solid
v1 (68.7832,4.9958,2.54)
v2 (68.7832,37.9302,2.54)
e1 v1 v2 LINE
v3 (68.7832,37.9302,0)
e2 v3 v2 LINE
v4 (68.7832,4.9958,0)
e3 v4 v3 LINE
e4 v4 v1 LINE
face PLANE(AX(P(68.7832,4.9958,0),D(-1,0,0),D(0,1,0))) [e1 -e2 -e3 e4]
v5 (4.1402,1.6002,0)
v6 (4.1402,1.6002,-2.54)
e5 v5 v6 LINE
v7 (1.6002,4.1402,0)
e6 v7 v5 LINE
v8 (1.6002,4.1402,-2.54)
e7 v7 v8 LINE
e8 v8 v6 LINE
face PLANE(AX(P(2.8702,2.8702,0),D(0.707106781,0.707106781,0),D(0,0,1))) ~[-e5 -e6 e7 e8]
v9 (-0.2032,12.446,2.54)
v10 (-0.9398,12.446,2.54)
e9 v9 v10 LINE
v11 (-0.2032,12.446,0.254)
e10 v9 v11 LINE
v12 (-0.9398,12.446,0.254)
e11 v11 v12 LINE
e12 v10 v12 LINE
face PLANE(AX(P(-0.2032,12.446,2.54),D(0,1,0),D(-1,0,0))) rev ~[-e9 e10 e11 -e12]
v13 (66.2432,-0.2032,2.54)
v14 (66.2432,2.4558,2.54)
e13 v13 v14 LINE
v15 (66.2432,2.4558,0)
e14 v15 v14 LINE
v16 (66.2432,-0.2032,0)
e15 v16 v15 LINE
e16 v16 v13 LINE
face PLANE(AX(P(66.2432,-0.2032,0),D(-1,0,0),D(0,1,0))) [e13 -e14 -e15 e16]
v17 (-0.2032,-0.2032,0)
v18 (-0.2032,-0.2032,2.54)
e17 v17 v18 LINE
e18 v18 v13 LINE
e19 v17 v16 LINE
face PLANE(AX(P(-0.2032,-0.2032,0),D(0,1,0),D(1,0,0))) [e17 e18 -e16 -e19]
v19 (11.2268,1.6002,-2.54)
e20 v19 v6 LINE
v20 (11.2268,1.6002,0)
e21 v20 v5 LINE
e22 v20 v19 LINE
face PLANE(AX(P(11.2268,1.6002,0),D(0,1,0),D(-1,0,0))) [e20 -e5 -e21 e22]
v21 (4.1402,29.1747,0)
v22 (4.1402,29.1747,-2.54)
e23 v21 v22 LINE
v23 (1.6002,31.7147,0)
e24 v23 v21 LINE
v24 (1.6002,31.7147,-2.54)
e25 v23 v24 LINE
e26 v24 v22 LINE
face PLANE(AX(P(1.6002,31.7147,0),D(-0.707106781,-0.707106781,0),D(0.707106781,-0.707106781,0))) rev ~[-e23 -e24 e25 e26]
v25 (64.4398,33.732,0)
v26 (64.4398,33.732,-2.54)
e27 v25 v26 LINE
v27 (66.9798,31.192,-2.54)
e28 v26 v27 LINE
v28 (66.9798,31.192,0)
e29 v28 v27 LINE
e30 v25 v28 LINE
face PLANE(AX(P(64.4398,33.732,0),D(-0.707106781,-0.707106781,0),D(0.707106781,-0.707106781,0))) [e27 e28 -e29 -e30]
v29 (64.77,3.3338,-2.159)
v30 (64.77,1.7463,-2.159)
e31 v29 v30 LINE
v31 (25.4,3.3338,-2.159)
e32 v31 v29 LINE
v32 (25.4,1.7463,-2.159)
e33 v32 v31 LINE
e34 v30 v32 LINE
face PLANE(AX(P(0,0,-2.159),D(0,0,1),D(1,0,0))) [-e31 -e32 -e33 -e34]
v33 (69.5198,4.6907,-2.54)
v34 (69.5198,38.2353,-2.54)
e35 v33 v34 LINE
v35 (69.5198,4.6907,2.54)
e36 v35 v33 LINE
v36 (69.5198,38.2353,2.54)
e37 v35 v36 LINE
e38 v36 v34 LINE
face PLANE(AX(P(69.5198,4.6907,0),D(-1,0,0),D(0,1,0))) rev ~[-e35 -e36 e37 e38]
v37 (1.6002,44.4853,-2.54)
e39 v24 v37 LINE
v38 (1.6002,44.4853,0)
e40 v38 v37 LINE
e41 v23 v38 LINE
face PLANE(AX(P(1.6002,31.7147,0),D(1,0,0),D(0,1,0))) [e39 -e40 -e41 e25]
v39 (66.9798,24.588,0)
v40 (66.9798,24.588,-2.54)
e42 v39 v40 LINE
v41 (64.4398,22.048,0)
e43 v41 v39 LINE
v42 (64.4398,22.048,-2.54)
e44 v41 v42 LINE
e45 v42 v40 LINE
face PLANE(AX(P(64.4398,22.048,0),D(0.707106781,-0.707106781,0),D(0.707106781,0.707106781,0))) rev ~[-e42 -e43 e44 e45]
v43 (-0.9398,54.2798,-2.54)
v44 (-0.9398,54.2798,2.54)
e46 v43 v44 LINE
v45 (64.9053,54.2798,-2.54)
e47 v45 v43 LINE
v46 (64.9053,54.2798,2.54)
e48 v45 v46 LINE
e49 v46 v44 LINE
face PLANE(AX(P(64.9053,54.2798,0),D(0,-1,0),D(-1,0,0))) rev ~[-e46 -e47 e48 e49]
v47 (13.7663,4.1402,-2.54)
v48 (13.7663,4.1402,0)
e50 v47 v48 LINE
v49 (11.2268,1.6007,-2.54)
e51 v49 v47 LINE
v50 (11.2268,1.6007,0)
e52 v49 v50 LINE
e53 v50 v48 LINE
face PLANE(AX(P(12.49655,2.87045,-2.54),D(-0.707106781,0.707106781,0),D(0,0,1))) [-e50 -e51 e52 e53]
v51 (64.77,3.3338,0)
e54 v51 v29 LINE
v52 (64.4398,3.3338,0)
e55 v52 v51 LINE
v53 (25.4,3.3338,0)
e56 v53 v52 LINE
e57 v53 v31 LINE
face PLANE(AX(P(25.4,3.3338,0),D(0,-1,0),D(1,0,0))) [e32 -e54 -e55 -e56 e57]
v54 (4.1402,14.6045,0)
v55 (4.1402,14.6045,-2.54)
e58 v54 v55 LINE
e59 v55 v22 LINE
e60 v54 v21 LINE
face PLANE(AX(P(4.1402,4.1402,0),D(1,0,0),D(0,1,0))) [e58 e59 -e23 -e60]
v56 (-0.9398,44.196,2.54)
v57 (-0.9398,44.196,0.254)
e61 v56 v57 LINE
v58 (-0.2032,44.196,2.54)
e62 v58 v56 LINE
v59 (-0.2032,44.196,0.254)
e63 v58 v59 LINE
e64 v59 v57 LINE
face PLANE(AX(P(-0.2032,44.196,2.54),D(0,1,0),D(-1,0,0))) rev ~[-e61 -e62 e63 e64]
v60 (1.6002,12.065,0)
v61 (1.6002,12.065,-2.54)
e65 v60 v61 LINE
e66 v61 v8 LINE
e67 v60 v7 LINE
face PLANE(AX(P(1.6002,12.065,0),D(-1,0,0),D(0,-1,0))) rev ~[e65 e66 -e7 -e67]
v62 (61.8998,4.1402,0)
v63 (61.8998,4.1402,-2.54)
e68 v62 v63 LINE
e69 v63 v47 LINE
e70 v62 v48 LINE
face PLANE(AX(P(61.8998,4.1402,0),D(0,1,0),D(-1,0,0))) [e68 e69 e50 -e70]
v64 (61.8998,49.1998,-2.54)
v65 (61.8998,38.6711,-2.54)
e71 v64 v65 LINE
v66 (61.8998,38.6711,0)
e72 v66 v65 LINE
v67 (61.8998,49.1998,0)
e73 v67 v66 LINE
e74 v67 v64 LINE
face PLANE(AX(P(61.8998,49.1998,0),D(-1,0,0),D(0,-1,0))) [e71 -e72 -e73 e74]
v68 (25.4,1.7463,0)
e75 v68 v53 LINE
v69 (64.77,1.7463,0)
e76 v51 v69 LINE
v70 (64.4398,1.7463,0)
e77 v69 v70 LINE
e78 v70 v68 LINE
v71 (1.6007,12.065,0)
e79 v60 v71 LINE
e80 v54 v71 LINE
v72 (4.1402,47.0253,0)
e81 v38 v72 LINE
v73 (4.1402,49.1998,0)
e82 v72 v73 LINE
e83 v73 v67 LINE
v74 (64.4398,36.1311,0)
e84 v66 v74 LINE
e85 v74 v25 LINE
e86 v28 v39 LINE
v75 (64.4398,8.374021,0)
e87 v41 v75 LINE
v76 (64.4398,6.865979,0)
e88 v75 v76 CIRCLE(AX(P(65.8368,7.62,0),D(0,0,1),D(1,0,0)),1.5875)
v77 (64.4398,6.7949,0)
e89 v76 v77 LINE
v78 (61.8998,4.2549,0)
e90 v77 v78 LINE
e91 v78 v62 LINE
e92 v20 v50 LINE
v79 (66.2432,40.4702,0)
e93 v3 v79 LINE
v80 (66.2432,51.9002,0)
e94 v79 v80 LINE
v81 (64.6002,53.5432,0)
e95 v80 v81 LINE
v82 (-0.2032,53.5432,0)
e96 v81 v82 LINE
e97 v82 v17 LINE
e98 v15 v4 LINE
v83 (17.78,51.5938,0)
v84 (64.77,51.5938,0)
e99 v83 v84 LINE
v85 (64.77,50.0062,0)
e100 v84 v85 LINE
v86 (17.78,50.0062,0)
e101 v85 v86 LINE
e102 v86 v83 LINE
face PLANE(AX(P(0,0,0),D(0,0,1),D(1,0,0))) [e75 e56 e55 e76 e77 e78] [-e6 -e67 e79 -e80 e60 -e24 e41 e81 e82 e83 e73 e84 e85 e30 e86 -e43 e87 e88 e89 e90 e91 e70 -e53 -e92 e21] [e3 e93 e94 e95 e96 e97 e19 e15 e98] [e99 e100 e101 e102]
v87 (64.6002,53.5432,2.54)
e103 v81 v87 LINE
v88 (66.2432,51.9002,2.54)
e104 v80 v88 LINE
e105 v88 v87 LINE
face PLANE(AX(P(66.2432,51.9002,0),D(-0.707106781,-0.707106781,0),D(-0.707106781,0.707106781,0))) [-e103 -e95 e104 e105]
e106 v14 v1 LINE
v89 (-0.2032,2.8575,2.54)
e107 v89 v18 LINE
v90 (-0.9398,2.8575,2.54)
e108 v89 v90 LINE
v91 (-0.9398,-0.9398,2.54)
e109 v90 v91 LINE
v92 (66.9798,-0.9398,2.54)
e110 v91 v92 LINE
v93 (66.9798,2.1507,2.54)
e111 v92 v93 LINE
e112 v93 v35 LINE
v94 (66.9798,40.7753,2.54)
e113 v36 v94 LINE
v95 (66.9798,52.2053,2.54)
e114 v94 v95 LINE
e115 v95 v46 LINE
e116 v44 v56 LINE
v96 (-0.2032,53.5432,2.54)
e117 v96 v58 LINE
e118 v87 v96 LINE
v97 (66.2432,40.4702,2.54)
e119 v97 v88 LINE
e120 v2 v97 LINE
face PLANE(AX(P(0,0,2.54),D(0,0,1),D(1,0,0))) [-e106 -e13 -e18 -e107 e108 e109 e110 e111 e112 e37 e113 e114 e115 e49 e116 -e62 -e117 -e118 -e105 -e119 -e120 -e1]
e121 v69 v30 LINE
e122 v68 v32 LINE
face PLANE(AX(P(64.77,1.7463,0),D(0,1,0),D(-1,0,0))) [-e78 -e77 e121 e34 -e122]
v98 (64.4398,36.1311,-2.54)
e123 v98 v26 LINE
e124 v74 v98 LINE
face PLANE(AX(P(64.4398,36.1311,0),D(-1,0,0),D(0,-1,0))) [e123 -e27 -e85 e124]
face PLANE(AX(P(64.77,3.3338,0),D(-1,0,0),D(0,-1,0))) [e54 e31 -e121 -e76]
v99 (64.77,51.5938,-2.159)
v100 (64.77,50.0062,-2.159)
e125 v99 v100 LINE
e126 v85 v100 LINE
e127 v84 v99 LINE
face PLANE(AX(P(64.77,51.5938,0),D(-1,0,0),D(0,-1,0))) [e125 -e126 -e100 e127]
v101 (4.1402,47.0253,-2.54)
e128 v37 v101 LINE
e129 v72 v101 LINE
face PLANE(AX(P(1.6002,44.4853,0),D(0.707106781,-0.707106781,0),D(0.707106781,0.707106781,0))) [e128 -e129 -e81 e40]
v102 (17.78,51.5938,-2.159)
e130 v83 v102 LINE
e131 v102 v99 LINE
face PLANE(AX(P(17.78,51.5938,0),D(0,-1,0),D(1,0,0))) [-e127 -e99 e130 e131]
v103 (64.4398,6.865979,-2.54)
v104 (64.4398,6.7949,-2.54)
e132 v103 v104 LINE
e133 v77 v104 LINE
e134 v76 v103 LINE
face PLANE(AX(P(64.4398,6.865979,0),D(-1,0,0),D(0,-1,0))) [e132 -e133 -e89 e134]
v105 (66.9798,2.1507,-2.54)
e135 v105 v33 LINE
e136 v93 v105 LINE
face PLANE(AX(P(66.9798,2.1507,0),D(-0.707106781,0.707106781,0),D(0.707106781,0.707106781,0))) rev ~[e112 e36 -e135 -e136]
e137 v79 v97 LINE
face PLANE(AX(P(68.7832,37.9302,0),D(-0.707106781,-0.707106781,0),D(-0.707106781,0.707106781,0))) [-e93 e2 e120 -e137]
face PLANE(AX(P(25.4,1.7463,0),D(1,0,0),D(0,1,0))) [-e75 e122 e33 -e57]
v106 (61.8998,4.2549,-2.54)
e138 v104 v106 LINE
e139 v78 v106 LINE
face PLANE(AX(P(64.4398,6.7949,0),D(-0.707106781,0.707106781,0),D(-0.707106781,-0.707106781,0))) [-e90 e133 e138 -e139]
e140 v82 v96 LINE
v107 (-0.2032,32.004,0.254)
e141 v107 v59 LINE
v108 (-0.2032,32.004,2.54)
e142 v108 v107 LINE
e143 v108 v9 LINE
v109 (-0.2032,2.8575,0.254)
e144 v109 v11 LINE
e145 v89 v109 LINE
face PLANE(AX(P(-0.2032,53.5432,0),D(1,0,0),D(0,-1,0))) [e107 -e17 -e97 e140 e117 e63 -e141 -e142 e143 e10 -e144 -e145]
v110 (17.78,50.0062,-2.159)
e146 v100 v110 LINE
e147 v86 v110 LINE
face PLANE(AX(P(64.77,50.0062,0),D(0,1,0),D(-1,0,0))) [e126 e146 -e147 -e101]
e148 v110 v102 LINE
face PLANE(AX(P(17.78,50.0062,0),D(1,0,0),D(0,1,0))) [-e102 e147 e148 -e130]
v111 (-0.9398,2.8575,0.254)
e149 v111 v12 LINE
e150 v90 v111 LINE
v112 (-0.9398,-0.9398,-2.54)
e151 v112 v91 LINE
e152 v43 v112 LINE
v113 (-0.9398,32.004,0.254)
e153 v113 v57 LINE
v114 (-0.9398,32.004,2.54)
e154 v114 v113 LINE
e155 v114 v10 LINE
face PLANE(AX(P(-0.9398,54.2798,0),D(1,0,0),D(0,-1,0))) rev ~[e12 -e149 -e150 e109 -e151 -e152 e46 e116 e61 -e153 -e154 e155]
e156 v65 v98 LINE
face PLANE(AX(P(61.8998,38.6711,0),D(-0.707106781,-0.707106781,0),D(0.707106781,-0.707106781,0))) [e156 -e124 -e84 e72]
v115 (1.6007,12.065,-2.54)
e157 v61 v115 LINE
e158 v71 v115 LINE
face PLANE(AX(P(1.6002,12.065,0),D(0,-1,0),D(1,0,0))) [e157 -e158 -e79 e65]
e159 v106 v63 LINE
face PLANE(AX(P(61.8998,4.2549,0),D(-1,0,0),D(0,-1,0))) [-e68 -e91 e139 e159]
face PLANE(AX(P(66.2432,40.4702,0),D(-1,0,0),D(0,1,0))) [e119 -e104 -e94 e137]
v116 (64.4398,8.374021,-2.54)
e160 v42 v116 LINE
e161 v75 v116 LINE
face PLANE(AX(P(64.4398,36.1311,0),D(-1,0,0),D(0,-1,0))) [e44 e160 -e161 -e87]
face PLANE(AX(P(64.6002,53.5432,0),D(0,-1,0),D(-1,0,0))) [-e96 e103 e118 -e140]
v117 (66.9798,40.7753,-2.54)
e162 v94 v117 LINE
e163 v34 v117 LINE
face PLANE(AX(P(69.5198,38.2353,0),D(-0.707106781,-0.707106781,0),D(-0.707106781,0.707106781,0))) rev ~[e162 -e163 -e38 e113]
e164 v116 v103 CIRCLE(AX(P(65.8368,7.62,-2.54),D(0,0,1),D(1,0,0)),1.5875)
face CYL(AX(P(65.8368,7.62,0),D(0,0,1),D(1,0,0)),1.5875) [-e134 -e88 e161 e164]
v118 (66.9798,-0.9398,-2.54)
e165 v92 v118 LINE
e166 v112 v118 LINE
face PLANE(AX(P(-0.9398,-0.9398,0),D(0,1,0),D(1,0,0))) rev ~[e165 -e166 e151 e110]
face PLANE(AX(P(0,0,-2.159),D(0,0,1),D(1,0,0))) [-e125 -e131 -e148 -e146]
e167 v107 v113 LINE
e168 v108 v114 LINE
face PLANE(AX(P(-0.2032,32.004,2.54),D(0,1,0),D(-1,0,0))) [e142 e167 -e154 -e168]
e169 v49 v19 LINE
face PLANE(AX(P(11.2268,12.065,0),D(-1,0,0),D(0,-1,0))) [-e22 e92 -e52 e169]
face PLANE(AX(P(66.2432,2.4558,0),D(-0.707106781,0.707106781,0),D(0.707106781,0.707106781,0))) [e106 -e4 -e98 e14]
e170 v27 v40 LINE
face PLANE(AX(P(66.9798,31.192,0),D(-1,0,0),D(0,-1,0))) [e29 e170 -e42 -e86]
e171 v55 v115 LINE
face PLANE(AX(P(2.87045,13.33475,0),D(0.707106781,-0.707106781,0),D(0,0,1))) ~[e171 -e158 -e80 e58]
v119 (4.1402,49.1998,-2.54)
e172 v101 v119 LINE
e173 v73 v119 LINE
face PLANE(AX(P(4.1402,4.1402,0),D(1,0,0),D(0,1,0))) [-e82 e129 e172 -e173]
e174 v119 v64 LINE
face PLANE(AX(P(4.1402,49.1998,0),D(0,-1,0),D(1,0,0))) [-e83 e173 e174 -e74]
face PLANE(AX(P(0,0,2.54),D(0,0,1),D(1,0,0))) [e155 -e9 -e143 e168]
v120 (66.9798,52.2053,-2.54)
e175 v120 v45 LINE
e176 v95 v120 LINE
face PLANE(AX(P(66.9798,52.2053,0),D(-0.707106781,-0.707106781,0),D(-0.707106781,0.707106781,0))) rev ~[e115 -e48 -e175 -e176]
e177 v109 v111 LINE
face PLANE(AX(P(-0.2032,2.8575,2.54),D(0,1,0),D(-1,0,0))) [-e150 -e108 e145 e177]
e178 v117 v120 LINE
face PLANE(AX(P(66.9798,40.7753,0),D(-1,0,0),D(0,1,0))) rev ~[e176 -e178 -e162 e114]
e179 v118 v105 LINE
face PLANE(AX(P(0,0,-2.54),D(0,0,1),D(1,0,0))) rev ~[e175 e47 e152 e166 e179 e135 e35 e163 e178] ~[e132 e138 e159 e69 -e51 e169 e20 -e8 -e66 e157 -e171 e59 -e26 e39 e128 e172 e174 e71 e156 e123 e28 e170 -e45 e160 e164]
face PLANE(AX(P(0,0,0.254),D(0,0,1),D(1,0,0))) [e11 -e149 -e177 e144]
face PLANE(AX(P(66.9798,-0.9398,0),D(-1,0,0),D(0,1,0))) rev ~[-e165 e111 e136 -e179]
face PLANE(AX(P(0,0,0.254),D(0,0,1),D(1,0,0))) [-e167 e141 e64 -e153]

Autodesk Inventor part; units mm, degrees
ref_plane "YZ Plane" through (0, 0, 0) normal (1, 0, 0) x (0, 1, 0)
ref_plane "XZ Plane" through (0, 0, 0) normal (0, 1, 0) x (-1, 0, 0)
ref_plane "XY Plane" through (0, 0, 0) normal (0, 0, 1) x (1, 0, 0)
sketch "Sketch1" plane through (0, 0, 0) normal (0, 0, 1) x (1, 0, 0)
  line L0 (0, 53.34) -> (64.516, 53.34)
  line L1 (64.516, 53.34) -> (66.04, 51.816)
  line L2 (66.04, 51.816) -> (66.04, 40.386)
  line L3 (66.04, 40.386) -> (68.58, 37.846)
  line L4 (68.58, 37.846) -> (68.58, 5.08)
  line L5 (66.04, 0) -> (0, 0)
  line L6 (0, 0) -> (0, 53.34)
  line L7 (68.58, 5.08) -> (66.04, 2.54)
  line L8 (66.04, 2.54) -> (66.04, 0)
  line L9 (64.9053, 54.2798) -> (-0.9398, 54.2798)
  line L10 (-0.9398, 54.2798) -> (-0.9398, -0.9398)
  line L11 (-0.9398, -0.9398) -> (66.9798, -0.9398)
  line L12 (66.9798, -0.9398) -> (66.9798, 2.1507)
  line L13 (66.9798, 2.1507) -> (69.5198, 4.6907)
  line L14 (69.5198, 4.6907) -> (69.5198, 38.2353)
  line L15 (69.5198, 38.2353) -> (66.9798, 40.7753)
  line L16 (66.9798, 40.7753) -> (66.9798, 52.2053)
  line L17 (66.9798, 52.2053) -> (64.9053, 54.2798)
  line L18 (64.6002, 53.5432) -> (-0.2032, 53.5432)
  line L19 (-0.2032, 53.5432) -> (-0.2032, -0.2032)
  line L20 (-0.2032, -0.2032) -> (66.2432, -0.2032)
  line L21 (66.2432, -0.2032) -> (66.2432, 2.4558)
  line L22 (66.2432, 2.4558) -> (68.7832, 4.9958)
  line L23 (68.7832, 4.9958) -> (68.7832, 37.9302)
  line L24 (68.7832, 37.9302) -> (66.2432, 40.4702)
  line L25 (66.2432, 40.4702) -> (66.2432, 51.9002)
  line L26 (66.2432, 51.9002) -> (64.6002, 53.5432)
  point P0 (0, 0)
  dimension "d0" = 64.516
  dimension "d1" = 53.34
  dimension "d4" = 66.04
  dimension "d5" = 51.816
  dimension "d6" = 68.58
  dimension "d7" = 40.386
  dimension "d8" = 37.846
  dimension "d9" = 66.04
  dimension "d10" = 2.54
  dimension "d11" = 5.08
  dimension "d15" = 0.2032
  dimension "d18" = 0.7366
extrude "Extrusion2" add sketch "Sketch1" along normal blind 2.54 contours L17 L16 L15 L14 L13 L12 L11 L10 L9
sketch "Sketch2" plane through (0, 0, 0) normal (0, 0, 1) x (1, 0, 0)
  line L0 (0, 53.34) -> (64.516, 53.34)
  line L1 (64.516, 53.34) -> (66.04, 51.816)
  line L2 (66.04, 51.816) -> (66.04, 40.386)
  line L3 (66.04, 40.386) -> (68.58, 37.846)
  line L4 (68.58, 37.846) -> (68.58, 5.08)
  line L5 (66.04, 0) -> (0, 0)
  line L6 (0, 0) -> (0, 53.34)
  line L7 (68.58, 5.08) -> (66.04, 2.54)
  line L8 (66.04, 2.54) -> (66.04, 0)
  line L9 (64.9053, 54.2798) -> (-0.9398, 54.2798)
  line L10 (-0.9398, 54.2798) -> (-0.9398, -0.9398)
  line L11 (-0.9398, -0.9398) -> (66.9798, -0.9398)
  line L12 (66.9798, -0.9398) -> (66.9798, 2.1507)
  line L13 (66.9798, 2.1507) -> (69.5198, 4.6907)
  line L14 (69.5198, 4.6907) -> (69.5198, 38.2353)
  line L15 (69.5198, 38.2353) -> (66.9798, 40.7753)
  line L16 (66.9798, 40.7753) -> (66.9798, 52.2053)
  line L17 (66.9798, 52.2053) -> (64.9053, 54.2798)
  line L18 (64.6002, 53.5432) -> (-0.2032, 53.5432)
  line L19 (-0.2032, 53.5432) -> (-0.2032, -0.2032)
  line L20 (-0.2032, -0.2032) -> (66.2432, -0.2032)
  line L21 (66.2432, -0.2032) -> (66.2432, 2.4558)
  line L22 (66.2432, 2.4558) -> (68.7832, 4.9958)
  line L23 (68.7832, 4.9958) -> (68.7832, 37.9302)
  line L24 (68.7832, 37.9302) -> (66.2432, 40.4702)
  line L25 (66.2432, 40.4702) -> (66.2432, 51.9002)
  line L26 (66.2432, 51.9002) -> (64.6002, 53.5432)
  line L27 (4.1402, 49.1998) -> (61.8998, 49.1998)
  line L28 (61.8998, 49.1998) -> (61.8998, 38.6711)
  line L29 (61.8998, 38.6711) -> (64.4398, 36.1311)
  line L30 (64.4398, 6.7949) -> (61.8998, 4.2549)
  line L31 (61.8998, 4.2549) -> (61.8998, 4.1402)
  line L32 (61.8998, 4.1402) -> (4.1402, 4.1402)
  line L33 (4.1402, 4.1402) -> (4.1402, 49.1998)
  line L34 (63.627, 30.43) -> (66.167, 30.43) construction
  line L35 (66.167, 30.43) -> (66.167, 25.35) construction
  line L36 (66.167, 25.35) -> (63.627, 25.35) construction
  line L37 (63.627, 25.35) -> (63.627, 30.43) construction
  line L38 (64.4398, 36.1311) -> (64.4398, 0)
  circle A0 centre (15.24, 50.8) radius 1.5875
  circle A1 centre (66.04, 35.3568) radius 1.5875
  circle A2 centre (65.8368, 7.62) radius 1.5875
  circle A3 centre (13.97, 2.54) radius 1.5875
  point P0 (0, 0)
  point P1 (0, 1.4137)
  dimension "d19" = 64.516
  dimension "d20" = 53.34
  dimension "d21" = 66.04
  dimension "d22" = 51.816
  dimension "d23" = 68.58
  dimension "d24" = 40.386
  dimension "d25" = 37.846
  dimension "d26" = 66.04
  dimension "d27" = 2.54
  dimension "d28" = 5.08
  dimension "d29" = 0.2032
  dimension "d30" = 0.7366
  dimension "d31" = 5.08
  dimension "d56" = 30.43
  dimension "d57" = 63.627
  dimension "d58" = 5.08
  dimension "d61" = 2.54
  dimension "d70" = 13.97
  dimension "d71" = 2.54
  dimension "d72" = 3.175
  dimension "d73" = 50.8
  dimension "d74" = 3.175
  dimension "d75" = 15.24
  dimension "d76" = 66.04
  dimension "d77" = 35.56
  dimension "d78" = 3.175
  dimension "d79" = 3.175
  dimension "d80" = 66.04
  dimension "d81" = 7.62
extrude "Extrusion3" add sketch "Sketch2" against normal blind 2.54 contours L0 L1 L2 L3 L4 L7 L8 L5 L6 | A2 L38 | L38 A2 | L17 L16 L15 L14 L13 L12 L11 L10 L9 | L26 L25 L24 L23 L22 L21 L20 L19 L18 | A0 | A1 | A3
sketch "Sketch4" plane through (0, 0, 2.54) normal (0, 0, 1) x (1, 0, 0)
  line L0 (-0.2032, -0.2032) -> (-0.2032, 53.5432) projected
  line L1 (-0.9398, -0.9398) -> (-0.9398, 54.2798) projected
  line L2 (-0.2032, 12.446) -> (-0.9398, 12.446)
  line L3 (-0.2032, 2.8575) -> (-0.9398, 2.8575)
  line L4 (-0.2032, 32.004) -> (-0.9398, 32.004)
  line L5 (-0.2032, 44.196) -> (-0.9398, 44.196)
  point P0 (0, 0)
  dimension "d35" = 12.446
  dimension "d36" = 2.8575
  dimension "d37" = 32.004
  dimension "d38" = 44.196
extrude "Extrusion4" cut sketch "Sketch4" against normal blind 2.286 contours L3 L1 L2 L0 | L4 L1 L5 L0
sketch "Sketch5" plane through (0, 0, 0) normal (0, 0, 1) x (1, 0, 0)
  line L0 (25.4, 3.3338) -> (64.77, 3.3338)
  line L1 (64.77, 3.3338) -> (64.77, 1.7463)
  line L2 (64.77, 1.7463) -> (25.4, 1.7463)
  line L3 (25.4, 1.7463) -> (25.4, 3.3338)
  line L4 (17.78, 51.5938) -> (64.77, 51.5938)
  line L5 (64.77, 51.5938) -> (64.77, 50.0062)
  line L6 (64.77, 50.0062) -> (17.78, 50.0062)
  line L7 (17.78, 50.0062) -> (17.78, 51.5938)
  line L8 (-0.2032, 53.5432) -> (-0.2032, -0.2032) projected
  line L9 (-0.2032, 12.065) -> (11.2268, 12.065)
  line L10 (11.2268, 12.065) -> (11.2268, 1.6002)
  line L11 (11.2268, 1.6002) -> (-0.2032, 1.6002)
  line L12 (-0.2032, 1.6002) -> (-0.2032, 12.065)
  line L13 (1.6002, 12.065) -> (1.6002, 1.6002)
  line L14 (63.627, 30.43) -> (66.167, 30.43) construction
  line L15 (63.627, 25.35) -> (63.627, 30.43) construction
  line L16 (66.167, 30.43) -> (66.167, 25.35) construction
  line L17 (66.167, 25.35) -> (63.627, 25.35) construction
  line L18 (4.1402, 4.1402) -> (4.1402, 49.1998) projected
  line L19 (4.1402, 49.1998) -> (61.8998, 49.1998) projected
  line L20 (61.8998, 49.1998) -> (61.8998, 38.6711) projected
  line L21 (61.8998, 38.6711) -> (64.4398, 36.1311) projected
  line L22 (64.4398, 6.866) -> (64.4398, 6.7949) projected
  line L23 (64.4398, 6.7949) -> (61.8998, 4.2549) projected
  line L24 (61.8998, 4.2549) -> (61.8998, 4.1402) projected
  line L25 (61.8998, 4.1402) -> (4.1402, 4.1402) projected
  line L26 (66.2432, 51.9002) -> (64.6002, 53.5432) projected
  line L27 (64.6002, 53.5432) -> (-0.2032, 53.5432) projected
  line L28 (-0.2032, 53.5432) -> (-0.2032, -0.2032) projected
  line L29 (-0.2032, -0.2032) -> (66.2432, -0.2032) projected
  line L30 (66.2432, -0.2032) -> (66.2432, 2.4558) projected
  line L31 (66.2432, 2.4558) -> (68.7832, 4.9958) projected
  line L32 (68.7832, 4.9958) -> (68.7832, 37.9302) projected
  line L33 (68.7832, 37.9302) -> (66.2432, 40.4702) projected
  line L34 (66.2432, 40.4702) -> (66.2432, 51.9002) projected
  line L35 (64.4398, 36.1311) -> (64.4398, 6.7949) projected
  line L36 (64.4398, 33.732) -> (66.9798, 31.192)
  line L37 (64.4398, 22.048) -> (66.9798, 24.588)
  line L38 (66.9798, 31.192) -> (66.9798, 24.588)
  line L39 (64.4398, 33.732) -> (64.4398, 22.048)
  line L40 (61.8998, 4.1402) -> (4.1402, 4.1402) projected
  line L41 (4.1402, 4.1402) -> (4.1402, 49.1998) projected
  line L42 (1.6002, 44.4853) -> (4.1402, 47.0253)
  line L43 (66.2432, 40.4702) -> (66.2432, 51.9002) projected
  line L44 (1.6002, 31.7147) -> (4.1402, 29.1747)
  line L45 (1.6002, 31.7147) -> (1.6002, 44.4853)
  line L46 (4.1402, 47.0253) -> (4.1402, 29.1747)
  arc A0 (64.4398, 8.374) -> (64.4398, 6.866) centre (65.8368, 7.62) ccw projected
  line L47 (64.4398, 36.1311) -> (64.4398, 8.374) projected
  point P0 (0, 0)
  point P1 (64.4398, 31.192)
  point P2 (64.4398, 31.192)
  point P3 (64.4398, 24.588)
  point P4 (64.4398, 24.588)
  dimension "d41" = 1.5875
  dimension "d42" = 25.4
  dimension "d43" = 64.77
  dimension "d44" = 17.78
  dimension "d45" = 64.77
  dimension "d46" = 1.5875
  dimension "d47" = 51.5938
  dimension "d48" = 1.7463
  dimension "d51" = 0
  dimension "d52" = 12.065
  dimension "d54" = 11.43
  dimension "d66" = 2.54
  dimension "d67" = 2.54
  dimension "d68" = 2.54
  dimension "d69" = 2.54
  dimension "d97" = 2.54
  dimension "d101" = 2.54
  dimension "d102" = 2.54
extrude "Extrusion5" cut sketch "Sketch5" against normal blind 2.159 contours L0 L1 L2 L3 | L4 L5 L6 L7
sketch "Sketch7" plane through (0, 0, 0) normal (0, 0, 1) x (1, 0, 0)
  line L0 (25.4, 3.3338) -> (64.77, 3.3338)
  line L1 (64.77, 3.3338) -> (64.77, 1.7463)
  line L2 (64.77, 1.7463) -> (25.4, 1.7463)
  line L3 (25.4, 1.7463) -> (25.4, 3.3338)
  line L4 (17.78, 51.5938) -> (64.77, 51.5938)
  line L5 (64.77, 51.5938) -> (64.77, 50.0062)
  line L6 (64.77, 50.0062) -> (17.78, 50.0062)
  line L7 (17.78, 50.0062) -> (17.78, 51.5938)
  line L8 (-0.2032, 53.5432) -> (-0.2032, -0.2032)
  line L9 (-0.2032, 12.065) -> (11.2268, 12.065)
  line L10 (11.2268, 12.065) -> (11.2268, 1.6002)
  line L11 (11.2268, 1.6002) -> (-0.2032, 1.6002)
  line L12 (-0.2032, 1.6002) -> (-0.2032, 12.065)
  line L13 (1.6002, 12.065) -> (1.6002, 1.6002)
  line L14 (63.627, 30.43) -> (66.167, 30.43) construction
  line L15 (63.627, 25.35) -> (63.627, 30.43) construction
  line L16 (66.167, 30.43) -> (66.167, 25.35) construction
  line L17 (66.167, 25.35) -> (63.627, 25.35) construction
  line L18 (4.1402, 4.1402) -> (4.1402, 49.1998)
  line L19 (4.1402, 49.1998) -> (61.8998, 49.1998)
  line L20 (61.8998, 49.1998) -> (61.8998, 38.6711)
  line L21 (61.8998, 38.6711) -> (64.4398, 36.1311)
  line L22 (64.4398, 6.866) -> (64.4398, 6.7949)
  line L23 (64.4398, 6.7949) -> (61.8998, 4.2549)
  line L24 (61.8998, 4.2549) -> (61.8998, 4.1402)
  line L25 (61.8998, 4.1402) -> (4.1402, 4.1402)
  line L26 (66.2432, 51.9002) -> (64.6002, 53.5432)
  line L27 (64.6002, 53.5432) -> (-0.2032, 53.5432)
  line L28 (-0.2032, 53.5432) -> (-0.2032, -0.2032)
  line L29 (-0.2032, -0.2032) -> (66.2432, -0.2032)
  line L30 (66.2432, -0.2032) -> (66.2432, 2.4558)
  line L31 (66.2432, 2.4558) -> (68.7832, 4.9958)
  line L32 (68.7832, 4.9958) -> (68.7832, 37.9302)
  line L33 (68.7832, 37.9302) -> (66.2432, 40.4702)
  line L34 (66.2432, 40.4702) -> (66.2432, 51.9002)
  line L35 (64.4398, 36.1311) -> (64.4398, 6.7949)
  line L36 (64.4398, 33.732) -> (66.9798, 31.192)
  line L37 (64.4398, 22.048) -> (66.9798, 24.588)
  line L38 (66.9798, 31.192) -> (66.9798, 24.588)
  line L39 (64.4398, 33.732) -> (64.4398, 22.048)
  line L40 (61.8998, 4.1402) -> (4.1402, 4.1402)
  line L41 (4.1402, 4.1402) -> (4.1402, 49.1998)
  line L42 (1.6002, 44.4853) -> (4.1402, 47.0253)
  line L43 (66.2432, 40.4702) -> (66.2432, 51.9002)
  line L44 (1.6002, 31.7147) -> (4.1402, 29.1747)
  line L45 (1.6002, 31.7147) -> (1.6002, 44.4853)
  line L46 (4.1402, 47.0253) -> (4.1402, 29.1747)
  arc A0 (64.4398, 8.374) -> (64.4398, 6.866) centre (65.8368, 7.62) ccw
  line L47 (64.4398, 36.1311) -> (64.4398, 8.374)
  point P0 (0, 0)
  point P1 (0, 0)
  point P2 (64.4398, 31.192)
  point P3 (64.4398, 31.192)
  point P4 (64.4398, 24.588)
  point P5 (64.4398, 24.588)
  dimension "d106" = 1.5875
  dimension "d107" = 25.4
  dimension "d108" = 64.77
  dimension "d109" = 17.78
  dimension "d110" = 64.77
  dimension "d111" = 1.5875
  dimension "d112" = 51.5938
  dimension "d113" = 1.7463
  dimension "d114" = 0
  dimension "d115" = 12.065
  dimension "d116" = 11.43
  dimension "d117" = 2.54
  dimension "d118" = 2.54
  dimension "d119" = 2.54
  dimension "d120" = 2.54
  dimension "d121" = 2.54
  dimension "d122" = 2.54
  dimension "d123" = 2.54
extrude "Extrusion7" cut sketch "Sketch7" against normal through all contours L9 L18 L25 L10 L11 L13 | L9 L10 L25 L18 | L44 L45 L42 L18 | L36 L38 L37 L35
chamfer "Chamfer3" distance 2.54 angle 45 2 edges at (4.1402, 12.065, -1.27) (11.2268, 4.1402, -1.27)
chamfer "Chamfer5" distance 2.54 angle 45 1 edges at (1.6002, 1.6002, -1.27)
equation "\"d67\" = d66"
equation "\"d69\" = d68"
equation "\"d97\" = d101"
equation "\"d102\" = d101"
properties part number "Arduino Bumper 0005"
